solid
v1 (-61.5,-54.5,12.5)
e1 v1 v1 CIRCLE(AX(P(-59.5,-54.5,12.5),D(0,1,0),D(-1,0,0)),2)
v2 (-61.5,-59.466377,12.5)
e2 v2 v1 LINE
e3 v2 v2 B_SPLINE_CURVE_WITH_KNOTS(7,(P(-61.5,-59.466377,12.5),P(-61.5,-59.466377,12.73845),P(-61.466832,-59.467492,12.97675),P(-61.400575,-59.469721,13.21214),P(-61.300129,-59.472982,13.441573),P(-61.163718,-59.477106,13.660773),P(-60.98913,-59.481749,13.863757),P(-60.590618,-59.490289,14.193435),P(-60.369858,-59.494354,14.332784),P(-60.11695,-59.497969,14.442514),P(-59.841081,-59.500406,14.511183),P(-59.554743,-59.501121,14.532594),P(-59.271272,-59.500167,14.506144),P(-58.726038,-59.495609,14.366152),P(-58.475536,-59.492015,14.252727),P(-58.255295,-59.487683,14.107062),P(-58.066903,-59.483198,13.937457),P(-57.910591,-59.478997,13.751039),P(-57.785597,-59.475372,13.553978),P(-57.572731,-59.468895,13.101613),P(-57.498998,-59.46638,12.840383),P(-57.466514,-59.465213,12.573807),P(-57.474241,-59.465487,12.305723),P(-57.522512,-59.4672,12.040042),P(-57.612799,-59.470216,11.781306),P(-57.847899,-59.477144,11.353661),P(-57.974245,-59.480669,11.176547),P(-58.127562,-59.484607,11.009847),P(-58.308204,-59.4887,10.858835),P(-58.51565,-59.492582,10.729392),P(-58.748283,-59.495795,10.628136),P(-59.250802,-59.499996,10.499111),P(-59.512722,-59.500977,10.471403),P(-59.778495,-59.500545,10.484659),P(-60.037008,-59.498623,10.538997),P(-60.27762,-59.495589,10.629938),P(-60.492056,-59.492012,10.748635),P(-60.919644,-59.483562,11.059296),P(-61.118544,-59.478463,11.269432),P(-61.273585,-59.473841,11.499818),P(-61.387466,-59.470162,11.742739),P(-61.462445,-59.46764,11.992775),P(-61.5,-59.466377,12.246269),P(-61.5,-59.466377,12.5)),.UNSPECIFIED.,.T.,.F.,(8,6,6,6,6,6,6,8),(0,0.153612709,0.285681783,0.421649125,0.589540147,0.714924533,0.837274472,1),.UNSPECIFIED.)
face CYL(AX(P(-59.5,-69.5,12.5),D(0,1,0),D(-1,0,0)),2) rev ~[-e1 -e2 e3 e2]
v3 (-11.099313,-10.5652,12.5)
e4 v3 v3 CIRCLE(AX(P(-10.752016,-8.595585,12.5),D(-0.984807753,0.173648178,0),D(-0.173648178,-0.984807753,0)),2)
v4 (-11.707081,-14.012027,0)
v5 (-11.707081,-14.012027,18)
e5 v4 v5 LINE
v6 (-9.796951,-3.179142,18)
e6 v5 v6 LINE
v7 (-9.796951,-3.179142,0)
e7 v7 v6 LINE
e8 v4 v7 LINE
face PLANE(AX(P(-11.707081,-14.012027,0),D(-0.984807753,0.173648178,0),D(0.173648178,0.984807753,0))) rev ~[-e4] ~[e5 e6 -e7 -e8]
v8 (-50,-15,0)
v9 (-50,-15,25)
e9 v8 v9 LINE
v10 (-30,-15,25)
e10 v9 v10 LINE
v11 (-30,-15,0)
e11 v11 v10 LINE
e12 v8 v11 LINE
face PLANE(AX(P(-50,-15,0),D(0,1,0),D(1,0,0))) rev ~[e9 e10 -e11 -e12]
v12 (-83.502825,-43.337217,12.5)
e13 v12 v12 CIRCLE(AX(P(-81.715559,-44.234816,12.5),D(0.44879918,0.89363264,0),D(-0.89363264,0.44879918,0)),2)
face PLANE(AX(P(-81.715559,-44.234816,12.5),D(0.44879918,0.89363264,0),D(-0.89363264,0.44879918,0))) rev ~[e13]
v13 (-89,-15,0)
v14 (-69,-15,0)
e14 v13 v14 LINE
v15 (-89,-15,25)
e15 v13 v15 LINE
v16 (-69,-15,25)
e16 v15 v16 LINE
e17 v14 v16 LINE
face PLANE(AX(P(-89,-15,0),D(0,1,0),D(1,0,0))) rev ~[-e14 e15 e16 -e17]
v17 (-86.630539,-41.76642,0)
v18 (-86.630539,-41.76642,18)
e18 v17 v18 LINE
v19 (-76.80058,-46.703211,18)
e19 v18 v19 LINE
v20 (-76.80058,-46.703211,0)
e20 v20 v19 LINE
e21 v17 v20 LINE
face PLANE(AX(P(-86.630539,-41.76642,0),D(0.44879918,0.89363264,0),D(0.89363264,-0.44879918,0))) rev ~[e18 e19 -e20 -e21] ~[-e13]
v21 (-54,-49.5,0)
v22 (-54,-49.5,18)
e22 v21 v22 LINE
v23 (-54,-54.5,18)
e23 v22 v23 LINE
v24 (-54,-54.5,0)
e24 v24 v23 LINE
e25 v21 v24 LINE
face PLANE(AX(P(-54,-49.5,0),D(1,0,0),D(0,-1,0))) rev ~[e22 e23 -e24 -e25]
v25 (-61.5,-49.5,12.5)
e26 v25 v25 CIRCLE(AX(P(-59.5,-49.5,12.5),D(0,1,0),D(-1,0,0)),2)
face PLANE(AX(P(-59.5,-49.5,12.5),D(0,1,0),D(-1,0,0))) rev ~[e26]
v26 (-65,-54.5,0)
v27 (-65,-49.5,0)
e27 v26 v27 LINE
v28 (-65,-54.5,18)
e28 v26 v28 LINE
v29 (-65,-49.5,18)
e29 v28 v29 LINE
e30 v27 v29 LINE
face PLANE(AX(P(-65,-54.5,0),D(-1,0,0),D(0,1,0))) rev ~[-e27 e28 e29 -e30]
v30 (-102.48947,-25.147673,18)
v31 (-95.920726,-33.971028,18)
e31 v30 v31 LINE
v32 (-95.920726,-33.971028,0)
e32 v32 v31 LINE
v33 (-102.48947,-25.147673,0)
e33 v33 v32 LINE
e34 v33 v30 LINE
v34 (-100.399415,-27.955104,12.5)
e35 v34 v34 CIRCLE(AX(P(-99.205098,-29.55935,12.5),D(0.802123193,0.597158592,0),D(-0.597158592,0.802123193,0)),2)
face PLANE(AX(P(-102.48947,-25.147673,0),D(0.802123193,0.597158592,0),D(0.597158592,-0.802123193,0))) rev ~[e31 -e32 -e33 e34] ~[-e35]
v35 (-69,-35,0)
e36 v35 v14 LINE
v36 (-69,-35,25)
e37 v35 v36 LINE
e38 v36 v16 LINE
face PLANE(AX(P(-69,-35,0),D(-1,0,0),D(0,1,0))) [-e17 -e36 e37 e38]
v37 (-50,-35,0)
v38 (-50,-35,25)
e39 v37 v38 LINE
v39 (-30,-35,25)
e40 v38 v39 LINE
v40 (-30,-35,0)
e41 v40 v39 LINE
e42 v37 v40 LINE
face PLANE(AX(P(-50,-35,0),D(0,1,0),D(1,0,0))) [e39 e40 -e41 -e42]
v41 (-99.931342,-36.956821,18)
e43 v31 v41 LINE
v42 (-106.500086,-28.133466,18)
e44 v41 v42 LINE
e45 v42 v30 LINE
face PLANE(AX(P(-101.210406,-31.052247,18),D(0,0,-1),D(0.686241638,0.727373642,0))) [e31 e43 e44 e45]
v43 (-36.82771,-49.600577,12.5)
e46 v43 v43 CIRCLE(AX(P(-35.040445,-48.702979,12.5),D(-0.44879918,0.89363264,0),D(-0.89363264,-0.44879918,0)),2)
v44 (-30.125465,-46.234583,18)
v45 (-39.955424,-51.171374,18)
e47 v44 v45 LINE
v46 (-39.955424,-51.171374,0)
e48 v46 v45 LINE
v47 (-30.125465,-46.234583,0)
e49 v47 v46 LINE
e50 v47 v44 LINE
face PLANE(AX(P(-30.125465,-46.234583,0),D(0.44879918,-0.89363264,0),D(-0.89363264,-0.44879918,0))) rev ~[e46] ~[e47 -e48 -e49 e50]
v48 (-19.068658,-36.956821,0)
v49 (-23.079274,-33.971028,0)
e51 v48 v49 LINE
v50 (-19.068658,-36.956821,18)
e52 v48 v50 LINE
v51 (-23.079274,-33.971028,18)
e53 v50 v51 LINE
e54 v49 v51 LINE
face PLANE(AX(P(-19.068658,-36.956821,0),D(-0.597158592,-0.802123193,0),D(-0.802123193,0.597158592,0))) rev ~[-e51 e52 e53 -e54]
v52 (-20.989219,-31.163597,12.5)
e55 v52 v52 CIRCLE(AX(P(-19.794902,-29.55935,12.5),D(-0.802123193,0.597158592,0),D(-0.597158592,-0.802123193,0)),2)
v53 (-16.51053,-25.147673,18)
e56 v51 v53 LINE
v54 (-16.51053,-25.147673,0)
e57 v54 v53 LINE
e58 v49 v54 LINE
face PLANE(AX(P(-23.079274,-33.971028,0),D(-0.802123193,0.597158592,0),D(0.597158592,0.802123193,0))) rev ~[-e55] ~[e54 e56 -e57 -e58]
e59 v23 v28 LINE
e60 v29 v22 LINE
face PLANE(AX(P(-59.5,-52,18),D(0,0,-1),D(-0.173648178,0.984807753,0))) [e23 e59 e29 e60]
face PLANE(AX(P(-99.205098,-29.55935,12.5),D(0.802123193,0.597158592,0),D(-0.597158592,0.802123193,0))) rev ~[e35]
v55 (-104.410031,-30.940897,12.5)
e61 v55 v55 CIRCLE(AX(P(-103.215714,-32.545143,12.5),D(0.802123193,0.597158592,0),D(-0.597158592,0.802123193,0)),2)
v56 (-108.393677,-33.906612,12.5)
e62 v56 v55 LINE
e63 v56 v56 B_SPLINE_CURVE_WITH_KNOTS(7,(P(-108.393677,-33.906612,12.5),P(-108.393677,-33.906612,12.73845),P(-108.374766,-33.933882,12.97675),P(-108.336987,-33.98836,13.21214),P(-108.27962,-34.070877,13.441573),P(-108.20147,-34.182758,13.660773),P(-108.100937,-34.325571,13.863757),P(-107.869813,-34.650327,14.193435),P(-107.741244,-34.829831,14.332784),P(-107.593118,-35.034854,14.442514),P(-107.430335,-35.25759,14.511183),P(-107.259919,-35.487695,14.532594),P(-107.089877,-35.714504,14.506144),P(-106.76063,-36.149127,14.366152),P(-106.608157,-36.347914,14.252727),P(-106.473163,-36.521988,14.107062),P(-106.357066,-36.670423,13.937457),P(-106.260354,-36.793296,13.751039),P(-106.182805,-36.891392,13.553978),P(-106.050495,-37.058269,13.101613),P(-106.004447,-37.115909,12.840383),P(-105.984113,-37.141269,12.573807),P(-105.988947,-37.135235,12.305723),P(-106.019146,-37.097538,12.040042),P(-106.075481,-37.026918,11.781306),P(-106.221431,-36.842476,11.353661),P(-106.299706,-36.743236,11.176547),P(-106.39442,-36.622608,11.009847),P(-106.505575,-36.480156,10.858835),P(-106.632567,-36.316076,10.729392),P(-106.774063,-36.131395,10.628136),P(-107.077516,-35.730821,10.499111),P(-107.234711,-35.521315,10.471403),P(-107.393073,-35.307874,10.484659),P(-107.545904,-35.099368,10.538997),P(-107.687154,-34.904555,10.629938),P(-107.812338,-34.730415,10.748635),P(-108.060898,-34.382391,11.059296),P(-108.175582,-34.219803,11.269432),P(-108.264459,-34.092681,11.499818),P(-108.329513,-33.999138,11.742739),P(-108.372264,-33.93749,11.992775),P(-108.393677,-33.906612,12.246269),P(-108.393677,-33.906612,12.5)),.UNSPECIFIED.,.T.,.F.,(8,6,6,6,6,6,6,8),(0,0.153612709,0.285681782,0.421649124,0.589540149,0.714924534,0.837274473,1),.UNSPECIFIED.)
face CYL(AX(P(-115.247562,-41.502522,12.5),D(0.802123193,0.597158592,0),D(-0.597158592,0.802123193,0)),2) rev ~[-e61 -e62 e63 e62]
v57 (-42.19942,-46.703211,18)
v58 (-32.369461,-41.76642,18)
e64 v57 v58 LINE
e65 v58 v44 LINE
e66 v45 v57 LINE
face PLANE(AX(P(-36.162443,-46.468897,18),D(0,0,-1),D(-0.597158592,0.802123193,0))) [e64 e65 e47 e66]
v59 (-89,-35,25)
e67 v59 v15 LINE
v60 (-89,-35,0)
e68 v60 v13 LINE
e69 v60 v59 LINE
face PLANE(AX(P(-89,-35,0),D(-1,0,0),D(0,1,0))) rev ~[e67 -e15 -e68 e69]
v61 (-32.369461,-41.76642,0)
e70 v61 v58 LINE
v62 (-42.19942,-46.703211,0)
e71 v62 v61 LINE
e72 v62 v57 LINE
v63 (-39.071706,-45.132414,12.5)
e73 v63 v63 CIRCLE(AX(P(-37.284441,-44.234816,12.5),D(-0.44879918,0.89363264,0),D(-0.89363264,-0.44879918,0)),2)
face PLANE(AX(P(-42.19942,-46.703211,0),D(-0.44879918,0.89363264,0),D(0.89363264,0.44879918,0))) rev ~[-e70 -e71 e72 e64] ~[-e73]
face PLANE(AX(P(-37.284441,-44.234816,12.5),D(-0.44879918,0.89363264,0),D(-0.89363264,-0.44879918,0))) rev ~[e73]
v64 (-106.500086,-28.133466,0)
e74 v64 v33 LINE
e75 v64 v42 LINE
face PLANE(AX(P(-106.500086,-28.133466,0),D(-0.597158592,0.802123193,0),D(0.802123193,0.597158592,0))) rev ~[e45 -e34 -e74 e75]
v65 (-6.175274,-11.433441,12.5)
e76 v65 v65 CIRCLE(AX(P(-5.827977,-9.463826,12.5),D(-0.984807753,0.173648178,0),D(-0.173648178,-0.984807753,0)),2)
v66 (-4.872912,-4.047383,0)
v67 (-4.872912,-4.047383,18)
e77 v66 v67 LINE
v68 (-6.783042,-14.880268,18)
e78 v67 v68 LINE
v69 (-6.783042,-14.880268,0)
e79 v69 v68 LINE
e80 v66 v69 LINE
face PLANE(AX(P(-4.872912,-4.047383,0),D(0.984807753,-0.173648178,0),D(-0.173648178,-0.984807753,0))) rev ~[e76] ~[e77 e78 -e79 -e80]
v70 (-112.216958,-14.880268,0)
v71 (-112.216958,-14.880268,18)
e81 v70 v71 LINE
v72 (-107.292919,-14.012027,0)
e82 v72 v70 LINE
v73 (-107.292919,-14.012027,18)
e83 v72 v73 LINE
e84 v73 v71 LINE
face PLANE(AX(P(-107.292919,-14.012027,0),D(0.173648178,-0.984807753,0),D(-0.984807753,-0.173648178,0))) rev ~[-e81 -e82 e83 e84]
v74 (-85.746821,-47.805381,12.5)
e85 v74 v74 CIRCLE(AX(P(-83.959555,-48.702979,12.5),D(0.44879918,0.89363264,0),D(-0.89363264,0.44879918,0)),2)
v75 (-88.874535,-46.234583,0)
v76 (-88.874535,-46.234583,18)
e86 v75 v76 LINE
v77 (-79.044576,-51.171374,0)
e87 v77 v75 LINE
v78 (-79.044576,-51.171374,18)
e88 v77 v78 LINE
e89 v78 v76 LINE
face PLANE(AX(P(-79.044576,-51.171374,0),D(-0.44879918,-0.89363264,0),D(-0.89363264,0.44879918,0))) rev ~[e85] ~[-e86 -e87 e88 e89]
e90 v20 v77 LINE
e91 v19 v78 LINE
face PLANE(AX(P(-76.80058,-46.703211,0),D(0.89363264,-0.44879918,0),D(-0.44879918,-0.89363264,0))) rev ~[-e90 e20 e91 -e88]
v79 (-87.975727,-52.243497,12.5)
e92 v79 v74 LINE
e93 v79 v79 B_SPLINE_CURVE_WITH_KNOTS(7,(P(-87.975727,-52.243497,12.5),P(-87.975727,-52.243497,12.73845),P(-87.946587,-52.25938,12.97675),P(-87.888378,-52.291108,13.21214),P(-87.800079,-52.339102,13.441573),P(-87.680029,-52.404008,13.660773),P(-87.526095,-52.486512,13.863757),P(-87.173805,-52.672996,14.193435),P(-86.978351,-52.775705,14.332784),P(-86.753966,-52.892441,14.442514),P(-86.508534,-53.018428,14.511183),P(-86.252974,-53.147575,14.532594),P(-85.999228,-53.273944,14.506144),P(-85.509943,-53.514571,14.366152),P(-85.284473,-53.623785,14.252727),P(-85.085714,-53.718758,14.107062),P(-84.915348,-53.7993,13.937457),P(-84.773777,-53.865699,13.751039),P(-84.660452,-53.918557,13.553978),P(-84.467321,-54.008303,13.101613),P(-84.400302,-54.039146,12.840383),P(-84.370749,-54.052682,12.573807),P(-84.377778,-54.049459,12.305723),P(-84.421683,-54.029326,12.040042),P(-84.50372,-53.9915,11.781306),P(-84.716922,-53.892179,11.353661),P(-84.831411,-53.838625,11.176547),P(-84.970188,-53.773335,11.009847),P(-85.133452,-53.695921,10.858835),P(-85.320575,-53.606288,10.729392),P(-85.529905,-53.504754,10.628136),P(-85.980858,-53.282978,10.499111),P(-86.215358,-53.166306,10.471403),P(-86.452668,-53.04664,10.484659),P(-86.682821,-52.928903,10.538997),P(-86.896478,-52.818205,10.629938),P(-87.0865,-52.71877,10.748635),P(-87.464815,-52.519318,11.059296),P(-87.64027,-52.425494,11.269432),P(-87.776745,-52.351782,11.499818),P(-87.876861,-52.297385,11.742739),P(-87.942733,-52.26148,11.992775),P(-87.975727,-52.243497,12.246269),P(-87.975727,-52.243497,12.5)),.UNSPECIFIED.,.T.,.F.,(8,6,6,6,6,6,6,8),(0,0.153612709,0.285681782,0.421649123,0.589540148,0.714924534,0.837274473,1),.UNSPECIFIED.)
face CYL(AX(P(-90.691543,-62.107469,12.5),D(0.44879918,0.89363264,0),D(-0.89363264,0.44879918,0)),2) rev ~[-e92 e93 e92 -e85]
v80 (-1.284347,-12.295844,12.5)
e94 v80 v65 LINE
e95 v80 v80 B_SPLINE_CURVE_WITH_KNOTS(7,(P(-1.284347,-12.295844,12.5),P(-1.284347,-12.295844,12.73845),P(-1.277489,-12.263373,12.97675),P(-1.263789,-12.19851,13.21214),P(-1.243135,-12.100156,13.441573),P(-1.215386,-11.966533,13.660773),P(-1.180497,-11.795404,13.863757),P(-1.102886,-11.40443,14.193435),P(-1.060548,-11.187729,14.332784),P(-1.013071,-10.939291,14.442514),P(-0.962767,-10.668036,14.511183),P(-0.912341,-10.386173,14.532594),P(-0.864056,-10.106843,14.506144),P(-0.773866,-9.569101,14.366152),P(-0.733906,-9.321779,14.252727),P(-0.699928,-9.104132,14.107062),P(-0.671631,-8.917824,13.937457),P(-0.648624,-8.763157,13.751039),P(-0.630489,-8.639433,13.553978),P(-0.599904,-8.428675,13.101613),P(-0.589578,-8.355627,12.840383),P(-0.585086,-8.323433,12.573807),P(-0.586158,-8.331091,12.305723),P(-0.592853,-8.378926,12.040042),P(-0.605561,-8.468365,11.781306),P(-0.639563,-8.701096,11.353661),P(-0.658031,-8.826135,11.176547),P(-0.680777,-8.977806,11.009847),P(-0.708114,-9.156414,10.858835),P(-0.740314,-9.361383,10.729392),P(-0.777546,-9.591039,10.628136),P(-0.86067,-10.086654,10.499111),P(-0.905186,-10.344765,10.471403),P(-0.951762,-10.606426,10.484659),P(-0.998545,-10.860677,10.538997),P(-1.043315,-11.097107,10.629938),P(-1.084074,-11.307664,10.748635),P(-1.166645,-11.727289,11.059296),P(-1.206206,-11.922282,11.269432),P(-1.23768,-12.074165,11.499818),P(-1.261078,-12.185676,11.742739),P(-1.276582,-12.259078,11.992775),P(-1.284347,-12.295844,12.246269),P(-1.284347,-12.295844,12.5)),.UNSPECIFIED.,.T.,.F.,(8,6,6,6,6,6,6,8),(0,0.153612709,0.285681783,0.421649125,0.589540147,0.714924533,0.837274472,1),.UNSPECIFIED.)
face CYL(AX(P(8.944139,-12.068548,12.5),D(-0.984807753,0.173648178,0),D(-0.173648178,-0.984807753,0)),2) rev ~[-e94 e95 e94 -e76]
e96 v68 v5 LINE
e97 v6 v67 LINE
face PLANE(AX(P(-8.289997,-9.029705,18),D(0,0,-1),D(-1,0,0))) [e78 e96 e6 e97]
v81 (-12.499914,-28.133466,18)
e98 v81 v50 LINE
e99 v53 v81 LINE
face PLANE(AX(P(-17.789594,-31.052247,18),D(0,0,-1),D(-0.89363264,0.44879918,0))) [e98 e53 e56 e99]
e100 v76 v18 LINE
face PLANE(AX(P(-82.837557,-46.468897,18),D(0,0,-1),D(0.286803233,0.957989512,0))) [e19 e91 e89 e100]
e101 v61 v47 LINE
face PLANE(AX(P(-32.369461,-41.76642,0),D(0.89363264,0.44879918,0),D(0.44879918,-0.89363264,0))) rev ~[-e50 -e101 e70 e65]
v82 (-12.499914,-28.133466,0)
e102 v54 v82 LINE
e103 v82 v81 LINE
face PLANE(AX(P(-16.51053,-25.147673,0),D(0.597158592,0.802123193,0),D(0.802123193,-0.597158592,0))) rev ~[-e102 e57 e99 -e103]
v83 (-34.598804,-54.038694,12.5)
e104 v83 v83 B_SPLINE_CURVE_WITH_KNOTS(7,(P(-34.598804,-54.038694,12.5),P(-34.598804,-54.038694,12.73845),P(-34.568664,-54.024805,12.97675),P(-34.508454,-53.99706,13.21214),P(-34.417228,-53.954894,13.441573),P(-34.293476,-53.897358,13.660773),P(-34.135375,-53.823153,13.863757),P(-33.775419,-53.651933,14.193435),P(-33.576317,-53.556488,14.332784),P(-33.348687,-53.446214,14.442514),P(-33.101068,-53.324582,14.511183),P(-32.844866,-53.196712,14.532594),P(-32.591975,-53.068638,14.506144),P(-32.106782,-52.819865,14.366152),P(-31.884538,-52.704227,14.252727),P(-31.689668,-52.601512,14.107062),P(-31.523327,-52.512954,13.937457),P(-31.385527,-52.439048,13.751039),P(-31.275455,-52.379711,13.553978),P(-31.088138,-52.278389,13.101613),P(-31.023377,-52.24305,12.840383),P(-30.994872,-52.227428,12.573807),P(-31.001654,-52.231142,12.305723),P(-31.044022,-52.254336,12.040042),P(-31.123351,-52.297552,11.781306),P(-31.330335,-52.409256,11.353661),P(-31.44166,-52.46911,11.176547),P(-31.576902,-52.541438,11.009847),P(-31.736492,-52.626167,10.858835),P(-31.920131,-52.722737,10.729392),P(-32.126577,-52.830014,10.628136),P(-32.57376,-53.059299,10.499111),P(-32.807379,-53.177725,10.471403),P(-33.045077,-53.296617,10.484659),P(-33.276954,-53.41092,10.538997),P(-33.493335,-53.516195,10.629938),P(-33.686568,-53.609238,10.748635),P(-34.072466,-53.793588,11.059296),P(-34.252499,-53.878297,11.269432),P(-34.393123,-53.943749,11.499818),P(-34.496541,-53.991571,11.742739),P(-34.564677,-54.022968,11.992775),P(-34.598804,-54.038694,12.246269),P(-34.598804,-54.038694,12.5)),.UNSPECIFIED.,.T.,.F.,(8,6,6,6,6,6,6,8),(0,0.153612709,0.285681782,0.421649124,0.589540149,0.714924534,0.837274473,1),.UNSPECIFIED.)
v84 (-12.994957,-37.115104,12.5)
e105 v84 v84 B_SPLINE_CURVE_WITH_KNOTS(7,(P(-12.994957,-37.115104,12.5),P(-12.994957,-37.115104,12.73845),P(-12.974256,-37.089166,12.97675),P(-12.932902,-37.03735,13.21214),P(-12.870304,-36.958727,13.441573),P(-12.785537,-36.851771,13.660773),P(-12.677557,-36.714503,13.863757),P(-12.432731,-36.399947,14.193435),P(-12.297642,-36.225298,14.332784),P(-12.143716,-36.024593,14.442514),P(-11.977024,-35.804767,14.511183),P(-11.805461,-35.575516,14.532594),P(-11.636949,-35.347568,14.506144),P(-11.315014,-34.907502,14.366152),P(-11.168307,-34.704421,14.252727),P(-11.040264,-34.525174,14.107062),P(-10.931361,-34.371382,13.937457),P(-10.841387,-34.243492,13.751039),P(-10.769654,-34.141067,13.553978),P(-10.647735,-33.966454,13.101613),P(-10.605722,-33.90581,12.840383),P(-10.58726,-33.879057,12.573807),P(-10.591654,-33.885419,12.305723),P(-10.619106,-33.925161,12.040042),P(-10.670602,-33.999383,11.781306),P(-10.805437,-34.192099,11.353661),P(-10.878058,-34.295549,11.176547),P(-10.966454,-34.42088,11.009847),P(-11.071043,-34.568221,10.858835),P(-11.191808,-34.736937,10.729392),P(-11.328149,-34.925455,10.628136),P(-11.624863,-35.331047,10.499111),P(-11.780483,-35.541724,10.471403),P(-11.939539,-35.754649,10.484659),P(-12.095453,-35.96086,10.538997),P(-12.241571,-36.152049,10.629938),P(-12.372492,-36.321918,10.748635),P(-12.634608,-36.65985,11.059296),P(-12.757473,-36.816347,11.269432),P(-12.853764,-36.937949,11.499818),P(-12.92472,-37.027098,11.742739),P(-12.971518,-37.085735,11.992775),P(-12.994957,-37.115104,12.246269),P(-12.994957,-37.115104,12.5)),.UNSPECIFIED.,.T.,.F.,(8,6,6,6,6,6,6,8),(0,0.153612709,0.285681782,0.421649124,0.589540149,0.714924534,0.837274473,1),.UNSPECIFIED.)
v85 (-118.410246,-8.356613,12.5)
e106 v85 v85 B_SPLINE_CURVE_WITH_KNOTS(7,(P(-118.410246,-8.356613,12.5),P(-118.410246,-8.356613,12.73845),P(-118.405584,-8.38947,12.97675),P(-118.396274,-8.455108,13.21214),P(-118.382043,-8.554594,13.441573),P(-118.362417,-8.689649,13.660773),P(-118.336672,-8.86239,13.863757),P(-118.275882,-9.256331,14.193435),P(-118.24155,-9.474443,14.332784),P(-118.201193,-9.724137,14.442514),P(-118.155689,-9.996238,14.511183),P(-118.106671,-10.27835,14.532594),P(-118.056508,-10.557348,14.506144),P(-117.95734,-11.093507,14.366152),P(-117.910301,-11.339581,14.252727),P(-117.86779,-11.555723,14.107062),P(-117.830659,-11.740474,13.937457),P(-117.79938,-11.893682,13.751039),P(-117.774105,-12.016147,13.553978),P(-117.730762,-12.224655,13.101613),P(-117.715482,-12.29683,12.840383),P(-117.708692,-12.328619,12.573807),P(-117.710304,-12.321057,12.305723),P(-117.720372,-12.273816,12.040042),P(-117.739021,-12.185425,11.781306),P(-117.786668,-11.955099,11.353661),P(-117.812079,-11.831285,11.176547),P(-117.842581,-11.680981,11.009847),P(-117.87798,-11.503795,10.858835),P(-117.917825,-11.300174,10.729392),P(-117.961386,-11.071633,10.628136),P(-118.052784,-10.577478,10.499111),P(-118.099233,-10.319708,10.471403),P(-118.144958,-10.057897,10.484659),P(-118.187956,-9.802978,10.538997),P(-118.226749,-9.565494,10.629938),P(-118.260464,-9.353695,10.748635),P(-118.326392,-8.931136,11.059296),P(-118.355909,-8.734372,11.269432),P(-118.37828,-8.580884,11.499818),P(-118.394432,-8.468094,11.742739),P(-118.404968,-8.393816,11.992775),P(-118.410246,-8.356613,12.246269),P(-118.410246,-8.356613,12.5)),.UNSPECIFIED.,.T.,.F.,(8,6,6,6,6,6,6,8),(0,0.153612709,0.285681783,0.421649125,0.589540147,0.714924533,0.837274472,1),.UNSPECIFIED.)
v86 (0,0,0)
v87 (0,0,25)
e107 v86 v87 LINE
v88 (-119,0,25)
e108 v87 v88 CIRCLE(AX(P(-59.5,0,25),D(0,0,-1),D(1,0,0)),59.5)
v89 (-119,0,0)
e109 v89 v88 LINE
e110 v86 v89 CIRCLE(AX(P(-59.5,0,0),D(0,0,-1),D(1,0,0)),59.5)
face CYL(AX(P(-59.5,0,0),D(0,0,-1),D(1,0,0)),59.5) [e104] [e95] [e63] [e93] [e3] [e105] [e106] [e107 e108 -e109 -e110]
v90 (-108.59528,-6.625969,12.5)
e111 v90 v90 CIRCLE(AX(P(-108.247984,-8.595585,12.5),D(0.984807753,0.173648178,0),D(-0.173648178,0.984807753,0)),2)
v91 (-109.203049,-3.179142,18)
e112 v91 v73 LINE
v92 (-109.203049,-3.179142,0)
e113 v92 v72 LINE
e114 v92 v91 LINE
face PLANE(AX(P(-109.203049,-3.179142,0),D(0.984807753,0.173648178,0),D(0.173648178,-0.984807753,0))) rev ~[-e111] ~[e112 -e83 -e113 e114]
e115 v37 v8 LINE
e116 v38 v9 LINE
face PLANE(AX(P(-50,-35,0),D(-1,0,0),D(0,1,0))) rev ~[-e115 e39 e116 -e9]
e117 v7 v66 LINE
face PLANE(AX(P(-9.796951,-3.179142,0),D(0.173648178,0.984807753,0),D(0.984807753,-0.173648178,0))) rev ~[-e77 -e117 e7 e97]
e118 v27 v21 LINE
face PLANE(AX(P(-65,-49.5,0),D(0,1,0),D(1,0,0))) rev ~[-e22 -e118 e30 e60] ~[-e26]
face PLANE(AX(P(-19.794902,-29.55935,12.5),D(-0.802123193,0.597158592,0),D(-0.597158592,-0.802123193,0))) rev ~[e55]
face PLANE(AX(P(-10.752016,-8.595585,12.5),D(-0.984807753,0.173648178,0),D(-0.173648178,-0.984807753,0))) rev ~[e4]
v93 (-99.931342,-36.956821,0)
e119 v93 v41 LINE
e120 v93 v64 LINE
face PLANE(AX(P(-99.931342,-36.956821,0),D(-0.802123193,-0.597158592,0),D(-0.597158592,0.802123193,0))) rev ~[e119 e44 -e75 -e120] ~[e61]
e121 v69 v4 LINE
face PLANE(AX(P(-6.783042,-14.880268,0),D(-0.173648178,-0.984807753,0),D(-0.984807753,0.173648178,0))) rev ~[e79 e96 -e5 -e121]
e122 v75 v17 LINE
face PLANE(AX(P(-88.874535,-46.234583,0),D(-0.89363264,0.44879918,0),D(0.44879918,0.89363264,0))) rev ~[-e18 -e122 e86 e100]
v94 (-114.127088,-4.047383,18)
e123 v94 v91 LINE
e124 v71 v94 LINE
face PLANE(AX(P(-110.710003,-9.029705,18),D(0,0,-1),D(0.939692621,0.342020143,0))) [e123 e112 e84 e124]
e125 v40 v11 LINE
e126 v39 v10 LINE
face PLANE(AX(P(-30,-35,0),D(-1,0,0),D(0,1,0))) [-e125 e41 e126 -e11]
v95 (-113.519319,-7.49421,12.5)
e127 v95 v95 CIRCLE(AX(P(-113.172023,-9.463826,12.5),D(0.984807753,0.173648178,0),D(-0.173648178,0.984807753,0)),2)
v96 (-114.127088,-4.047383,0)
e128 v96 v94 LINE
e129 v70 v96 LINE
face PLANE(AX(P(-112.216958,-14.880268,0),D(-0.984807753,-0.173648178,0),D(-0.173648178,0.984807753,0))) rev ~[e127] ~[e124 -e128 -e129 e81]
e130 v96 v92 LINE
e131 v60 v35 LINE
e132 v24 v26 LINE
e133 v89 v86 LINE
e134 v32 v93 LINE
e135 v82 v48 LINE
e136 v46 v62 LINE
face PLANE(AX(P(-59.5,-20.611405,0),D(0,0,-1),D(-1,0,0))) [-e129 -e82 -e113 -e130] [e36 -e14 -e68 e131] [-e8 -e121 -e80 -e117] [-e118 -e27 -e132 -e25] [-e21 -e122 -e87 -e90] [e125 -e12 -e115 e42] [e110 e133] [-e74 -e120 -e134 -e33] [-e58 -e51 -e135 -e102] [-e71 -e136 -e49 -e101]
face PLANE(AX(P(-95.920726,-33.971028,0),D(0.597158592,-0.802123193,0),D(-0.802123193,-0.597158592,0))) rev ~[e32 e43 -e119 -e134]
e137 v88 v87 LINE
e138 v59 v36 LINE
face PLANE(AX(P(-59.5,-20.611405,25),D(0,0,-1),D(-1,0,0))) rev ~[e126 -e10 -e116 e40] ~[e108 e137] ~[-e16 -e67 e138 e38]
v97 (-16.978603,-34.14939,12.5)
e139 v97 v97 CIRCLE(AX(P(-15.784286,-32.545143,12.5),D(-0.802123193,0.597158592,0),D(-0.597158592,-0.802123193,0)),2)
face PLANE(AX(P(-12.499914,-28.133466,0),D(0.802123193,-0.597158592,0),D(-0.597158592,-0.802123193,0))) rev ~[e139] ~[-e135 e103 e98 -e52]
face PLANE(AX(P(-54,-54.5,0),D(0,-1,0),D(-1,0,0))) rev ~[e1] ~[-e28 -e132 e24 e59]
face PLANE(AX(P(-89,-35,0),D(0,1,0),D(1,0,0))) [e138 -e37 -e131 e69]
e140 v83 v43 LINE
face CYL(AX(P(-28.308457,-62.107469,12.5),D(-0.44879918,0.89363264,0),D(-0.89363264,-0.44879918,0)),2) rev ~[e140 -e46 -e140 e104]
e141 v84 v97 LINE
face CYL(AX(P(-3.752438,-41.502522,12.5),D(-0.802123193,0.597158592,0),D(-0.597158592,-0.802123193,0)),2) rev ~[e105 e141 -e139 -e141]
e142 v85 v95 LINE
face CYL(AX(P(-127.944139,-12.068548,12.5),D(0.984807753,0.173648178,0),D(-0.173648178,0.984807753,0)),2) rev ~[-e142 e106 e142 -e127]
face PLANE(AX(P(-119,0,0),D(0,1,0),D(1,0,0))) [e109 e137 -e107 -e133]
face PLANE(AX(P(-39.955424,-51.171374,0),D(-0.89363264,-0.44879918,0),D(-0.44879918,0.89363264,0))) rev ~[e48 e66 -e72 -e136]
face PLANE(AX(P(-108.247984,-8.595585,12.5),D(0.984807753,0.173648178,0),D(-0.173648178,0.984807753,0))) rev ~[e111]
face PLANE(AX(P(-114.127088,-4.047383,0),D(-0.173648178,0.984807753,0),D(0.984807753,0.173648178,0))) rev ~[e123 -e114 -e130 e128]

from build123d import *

# Parameters (mm, degrees)
SKETCH1_W           = 20
SKETCH1_H           = 20
BOSS_EXTRUDE1_DEPTH = 25
HOLE1_D             = 4
HOLE1_DEPTH         = 10
CUT_EXTRUDE1_DEPTH  = 18
CIRPATTERN1_COUNT   = 7
CIRPATTERN1_ANGLE   = 160


with BuildPart() as part:
    # Sketch1 → Boss-Extrude1 (new body)
    with BuildSketch(Plane.XY):
        with BuildLine():
            Line((-119, 0), (0, 0))
            ThreePointArc((0, 0), (-59.5, -59.5), (-119, 0))
        make_face()
        with Locations((-40, -25)):
            Rectangle(SKETCH1_W, SKETCH1_H, mode=Mode.SUBTRACT)
        with Locations((-79, -25)):
            Rectangle(SKETCH1_W, SKETCH1_H, mode=Mode.SUBTRACT)
    extrude(amount=BOSS_EXTRUDE1_DEPTH)

    # Hole1
    with Locations(Plane(origin=(-0.903938696, -10.332066571, 12.5), x_dir=(0.173648177667, 0.984807753012, 0), z_dir=(0.984807753012, -0.173648177667, 0))):
        with Locations((0, 0)):
            hole1 = Hole(HOLE1_D / 2, depth=HOLE1_DEPTH)

    # Sketch7 → Cut-Extrude1 (cut)
    with BuildSketch(Plane(origin=(0, 0, 0), x_dir=(-1, 0, 0), z_dir=(0, 0, -1))):
        Polygon((4.872912484, -4.047383041), (6.783042438, -14.880268324), (11.707081203, -14.012027436), (9.796951249, -3.179142153), align=None)
    cut_extrude1 = extrude(amount=-CUT_EXTRUDE1_DEPTH, mode=Mode.SUBTRACT)

    # CirPattern1: Hole1, Cut-Extrude1 ×7 about axis
    cirpattern1_axis = Axis((-59.5, 0, 0), (0, 0, -1))
    add([hole1.rotate(cirpattern1_axis, i * CIRPATTERN1_ANGLE / (CIRPATTERN1_COUNT - 1)) for i in range(1, CIRPATTERN1_COUNT)], mode=Mode.SUBTRACT)
    add([cut_extrude1.rotate(cirpattern1_axis, i * CIRPATTERN1_ANGLE / (CIRPATTERN1_COUNT - 1)) for i in range(1, CIRPATTERN1_COUNT)], mode=Mode.SUBTRACT)


solid = part.part
